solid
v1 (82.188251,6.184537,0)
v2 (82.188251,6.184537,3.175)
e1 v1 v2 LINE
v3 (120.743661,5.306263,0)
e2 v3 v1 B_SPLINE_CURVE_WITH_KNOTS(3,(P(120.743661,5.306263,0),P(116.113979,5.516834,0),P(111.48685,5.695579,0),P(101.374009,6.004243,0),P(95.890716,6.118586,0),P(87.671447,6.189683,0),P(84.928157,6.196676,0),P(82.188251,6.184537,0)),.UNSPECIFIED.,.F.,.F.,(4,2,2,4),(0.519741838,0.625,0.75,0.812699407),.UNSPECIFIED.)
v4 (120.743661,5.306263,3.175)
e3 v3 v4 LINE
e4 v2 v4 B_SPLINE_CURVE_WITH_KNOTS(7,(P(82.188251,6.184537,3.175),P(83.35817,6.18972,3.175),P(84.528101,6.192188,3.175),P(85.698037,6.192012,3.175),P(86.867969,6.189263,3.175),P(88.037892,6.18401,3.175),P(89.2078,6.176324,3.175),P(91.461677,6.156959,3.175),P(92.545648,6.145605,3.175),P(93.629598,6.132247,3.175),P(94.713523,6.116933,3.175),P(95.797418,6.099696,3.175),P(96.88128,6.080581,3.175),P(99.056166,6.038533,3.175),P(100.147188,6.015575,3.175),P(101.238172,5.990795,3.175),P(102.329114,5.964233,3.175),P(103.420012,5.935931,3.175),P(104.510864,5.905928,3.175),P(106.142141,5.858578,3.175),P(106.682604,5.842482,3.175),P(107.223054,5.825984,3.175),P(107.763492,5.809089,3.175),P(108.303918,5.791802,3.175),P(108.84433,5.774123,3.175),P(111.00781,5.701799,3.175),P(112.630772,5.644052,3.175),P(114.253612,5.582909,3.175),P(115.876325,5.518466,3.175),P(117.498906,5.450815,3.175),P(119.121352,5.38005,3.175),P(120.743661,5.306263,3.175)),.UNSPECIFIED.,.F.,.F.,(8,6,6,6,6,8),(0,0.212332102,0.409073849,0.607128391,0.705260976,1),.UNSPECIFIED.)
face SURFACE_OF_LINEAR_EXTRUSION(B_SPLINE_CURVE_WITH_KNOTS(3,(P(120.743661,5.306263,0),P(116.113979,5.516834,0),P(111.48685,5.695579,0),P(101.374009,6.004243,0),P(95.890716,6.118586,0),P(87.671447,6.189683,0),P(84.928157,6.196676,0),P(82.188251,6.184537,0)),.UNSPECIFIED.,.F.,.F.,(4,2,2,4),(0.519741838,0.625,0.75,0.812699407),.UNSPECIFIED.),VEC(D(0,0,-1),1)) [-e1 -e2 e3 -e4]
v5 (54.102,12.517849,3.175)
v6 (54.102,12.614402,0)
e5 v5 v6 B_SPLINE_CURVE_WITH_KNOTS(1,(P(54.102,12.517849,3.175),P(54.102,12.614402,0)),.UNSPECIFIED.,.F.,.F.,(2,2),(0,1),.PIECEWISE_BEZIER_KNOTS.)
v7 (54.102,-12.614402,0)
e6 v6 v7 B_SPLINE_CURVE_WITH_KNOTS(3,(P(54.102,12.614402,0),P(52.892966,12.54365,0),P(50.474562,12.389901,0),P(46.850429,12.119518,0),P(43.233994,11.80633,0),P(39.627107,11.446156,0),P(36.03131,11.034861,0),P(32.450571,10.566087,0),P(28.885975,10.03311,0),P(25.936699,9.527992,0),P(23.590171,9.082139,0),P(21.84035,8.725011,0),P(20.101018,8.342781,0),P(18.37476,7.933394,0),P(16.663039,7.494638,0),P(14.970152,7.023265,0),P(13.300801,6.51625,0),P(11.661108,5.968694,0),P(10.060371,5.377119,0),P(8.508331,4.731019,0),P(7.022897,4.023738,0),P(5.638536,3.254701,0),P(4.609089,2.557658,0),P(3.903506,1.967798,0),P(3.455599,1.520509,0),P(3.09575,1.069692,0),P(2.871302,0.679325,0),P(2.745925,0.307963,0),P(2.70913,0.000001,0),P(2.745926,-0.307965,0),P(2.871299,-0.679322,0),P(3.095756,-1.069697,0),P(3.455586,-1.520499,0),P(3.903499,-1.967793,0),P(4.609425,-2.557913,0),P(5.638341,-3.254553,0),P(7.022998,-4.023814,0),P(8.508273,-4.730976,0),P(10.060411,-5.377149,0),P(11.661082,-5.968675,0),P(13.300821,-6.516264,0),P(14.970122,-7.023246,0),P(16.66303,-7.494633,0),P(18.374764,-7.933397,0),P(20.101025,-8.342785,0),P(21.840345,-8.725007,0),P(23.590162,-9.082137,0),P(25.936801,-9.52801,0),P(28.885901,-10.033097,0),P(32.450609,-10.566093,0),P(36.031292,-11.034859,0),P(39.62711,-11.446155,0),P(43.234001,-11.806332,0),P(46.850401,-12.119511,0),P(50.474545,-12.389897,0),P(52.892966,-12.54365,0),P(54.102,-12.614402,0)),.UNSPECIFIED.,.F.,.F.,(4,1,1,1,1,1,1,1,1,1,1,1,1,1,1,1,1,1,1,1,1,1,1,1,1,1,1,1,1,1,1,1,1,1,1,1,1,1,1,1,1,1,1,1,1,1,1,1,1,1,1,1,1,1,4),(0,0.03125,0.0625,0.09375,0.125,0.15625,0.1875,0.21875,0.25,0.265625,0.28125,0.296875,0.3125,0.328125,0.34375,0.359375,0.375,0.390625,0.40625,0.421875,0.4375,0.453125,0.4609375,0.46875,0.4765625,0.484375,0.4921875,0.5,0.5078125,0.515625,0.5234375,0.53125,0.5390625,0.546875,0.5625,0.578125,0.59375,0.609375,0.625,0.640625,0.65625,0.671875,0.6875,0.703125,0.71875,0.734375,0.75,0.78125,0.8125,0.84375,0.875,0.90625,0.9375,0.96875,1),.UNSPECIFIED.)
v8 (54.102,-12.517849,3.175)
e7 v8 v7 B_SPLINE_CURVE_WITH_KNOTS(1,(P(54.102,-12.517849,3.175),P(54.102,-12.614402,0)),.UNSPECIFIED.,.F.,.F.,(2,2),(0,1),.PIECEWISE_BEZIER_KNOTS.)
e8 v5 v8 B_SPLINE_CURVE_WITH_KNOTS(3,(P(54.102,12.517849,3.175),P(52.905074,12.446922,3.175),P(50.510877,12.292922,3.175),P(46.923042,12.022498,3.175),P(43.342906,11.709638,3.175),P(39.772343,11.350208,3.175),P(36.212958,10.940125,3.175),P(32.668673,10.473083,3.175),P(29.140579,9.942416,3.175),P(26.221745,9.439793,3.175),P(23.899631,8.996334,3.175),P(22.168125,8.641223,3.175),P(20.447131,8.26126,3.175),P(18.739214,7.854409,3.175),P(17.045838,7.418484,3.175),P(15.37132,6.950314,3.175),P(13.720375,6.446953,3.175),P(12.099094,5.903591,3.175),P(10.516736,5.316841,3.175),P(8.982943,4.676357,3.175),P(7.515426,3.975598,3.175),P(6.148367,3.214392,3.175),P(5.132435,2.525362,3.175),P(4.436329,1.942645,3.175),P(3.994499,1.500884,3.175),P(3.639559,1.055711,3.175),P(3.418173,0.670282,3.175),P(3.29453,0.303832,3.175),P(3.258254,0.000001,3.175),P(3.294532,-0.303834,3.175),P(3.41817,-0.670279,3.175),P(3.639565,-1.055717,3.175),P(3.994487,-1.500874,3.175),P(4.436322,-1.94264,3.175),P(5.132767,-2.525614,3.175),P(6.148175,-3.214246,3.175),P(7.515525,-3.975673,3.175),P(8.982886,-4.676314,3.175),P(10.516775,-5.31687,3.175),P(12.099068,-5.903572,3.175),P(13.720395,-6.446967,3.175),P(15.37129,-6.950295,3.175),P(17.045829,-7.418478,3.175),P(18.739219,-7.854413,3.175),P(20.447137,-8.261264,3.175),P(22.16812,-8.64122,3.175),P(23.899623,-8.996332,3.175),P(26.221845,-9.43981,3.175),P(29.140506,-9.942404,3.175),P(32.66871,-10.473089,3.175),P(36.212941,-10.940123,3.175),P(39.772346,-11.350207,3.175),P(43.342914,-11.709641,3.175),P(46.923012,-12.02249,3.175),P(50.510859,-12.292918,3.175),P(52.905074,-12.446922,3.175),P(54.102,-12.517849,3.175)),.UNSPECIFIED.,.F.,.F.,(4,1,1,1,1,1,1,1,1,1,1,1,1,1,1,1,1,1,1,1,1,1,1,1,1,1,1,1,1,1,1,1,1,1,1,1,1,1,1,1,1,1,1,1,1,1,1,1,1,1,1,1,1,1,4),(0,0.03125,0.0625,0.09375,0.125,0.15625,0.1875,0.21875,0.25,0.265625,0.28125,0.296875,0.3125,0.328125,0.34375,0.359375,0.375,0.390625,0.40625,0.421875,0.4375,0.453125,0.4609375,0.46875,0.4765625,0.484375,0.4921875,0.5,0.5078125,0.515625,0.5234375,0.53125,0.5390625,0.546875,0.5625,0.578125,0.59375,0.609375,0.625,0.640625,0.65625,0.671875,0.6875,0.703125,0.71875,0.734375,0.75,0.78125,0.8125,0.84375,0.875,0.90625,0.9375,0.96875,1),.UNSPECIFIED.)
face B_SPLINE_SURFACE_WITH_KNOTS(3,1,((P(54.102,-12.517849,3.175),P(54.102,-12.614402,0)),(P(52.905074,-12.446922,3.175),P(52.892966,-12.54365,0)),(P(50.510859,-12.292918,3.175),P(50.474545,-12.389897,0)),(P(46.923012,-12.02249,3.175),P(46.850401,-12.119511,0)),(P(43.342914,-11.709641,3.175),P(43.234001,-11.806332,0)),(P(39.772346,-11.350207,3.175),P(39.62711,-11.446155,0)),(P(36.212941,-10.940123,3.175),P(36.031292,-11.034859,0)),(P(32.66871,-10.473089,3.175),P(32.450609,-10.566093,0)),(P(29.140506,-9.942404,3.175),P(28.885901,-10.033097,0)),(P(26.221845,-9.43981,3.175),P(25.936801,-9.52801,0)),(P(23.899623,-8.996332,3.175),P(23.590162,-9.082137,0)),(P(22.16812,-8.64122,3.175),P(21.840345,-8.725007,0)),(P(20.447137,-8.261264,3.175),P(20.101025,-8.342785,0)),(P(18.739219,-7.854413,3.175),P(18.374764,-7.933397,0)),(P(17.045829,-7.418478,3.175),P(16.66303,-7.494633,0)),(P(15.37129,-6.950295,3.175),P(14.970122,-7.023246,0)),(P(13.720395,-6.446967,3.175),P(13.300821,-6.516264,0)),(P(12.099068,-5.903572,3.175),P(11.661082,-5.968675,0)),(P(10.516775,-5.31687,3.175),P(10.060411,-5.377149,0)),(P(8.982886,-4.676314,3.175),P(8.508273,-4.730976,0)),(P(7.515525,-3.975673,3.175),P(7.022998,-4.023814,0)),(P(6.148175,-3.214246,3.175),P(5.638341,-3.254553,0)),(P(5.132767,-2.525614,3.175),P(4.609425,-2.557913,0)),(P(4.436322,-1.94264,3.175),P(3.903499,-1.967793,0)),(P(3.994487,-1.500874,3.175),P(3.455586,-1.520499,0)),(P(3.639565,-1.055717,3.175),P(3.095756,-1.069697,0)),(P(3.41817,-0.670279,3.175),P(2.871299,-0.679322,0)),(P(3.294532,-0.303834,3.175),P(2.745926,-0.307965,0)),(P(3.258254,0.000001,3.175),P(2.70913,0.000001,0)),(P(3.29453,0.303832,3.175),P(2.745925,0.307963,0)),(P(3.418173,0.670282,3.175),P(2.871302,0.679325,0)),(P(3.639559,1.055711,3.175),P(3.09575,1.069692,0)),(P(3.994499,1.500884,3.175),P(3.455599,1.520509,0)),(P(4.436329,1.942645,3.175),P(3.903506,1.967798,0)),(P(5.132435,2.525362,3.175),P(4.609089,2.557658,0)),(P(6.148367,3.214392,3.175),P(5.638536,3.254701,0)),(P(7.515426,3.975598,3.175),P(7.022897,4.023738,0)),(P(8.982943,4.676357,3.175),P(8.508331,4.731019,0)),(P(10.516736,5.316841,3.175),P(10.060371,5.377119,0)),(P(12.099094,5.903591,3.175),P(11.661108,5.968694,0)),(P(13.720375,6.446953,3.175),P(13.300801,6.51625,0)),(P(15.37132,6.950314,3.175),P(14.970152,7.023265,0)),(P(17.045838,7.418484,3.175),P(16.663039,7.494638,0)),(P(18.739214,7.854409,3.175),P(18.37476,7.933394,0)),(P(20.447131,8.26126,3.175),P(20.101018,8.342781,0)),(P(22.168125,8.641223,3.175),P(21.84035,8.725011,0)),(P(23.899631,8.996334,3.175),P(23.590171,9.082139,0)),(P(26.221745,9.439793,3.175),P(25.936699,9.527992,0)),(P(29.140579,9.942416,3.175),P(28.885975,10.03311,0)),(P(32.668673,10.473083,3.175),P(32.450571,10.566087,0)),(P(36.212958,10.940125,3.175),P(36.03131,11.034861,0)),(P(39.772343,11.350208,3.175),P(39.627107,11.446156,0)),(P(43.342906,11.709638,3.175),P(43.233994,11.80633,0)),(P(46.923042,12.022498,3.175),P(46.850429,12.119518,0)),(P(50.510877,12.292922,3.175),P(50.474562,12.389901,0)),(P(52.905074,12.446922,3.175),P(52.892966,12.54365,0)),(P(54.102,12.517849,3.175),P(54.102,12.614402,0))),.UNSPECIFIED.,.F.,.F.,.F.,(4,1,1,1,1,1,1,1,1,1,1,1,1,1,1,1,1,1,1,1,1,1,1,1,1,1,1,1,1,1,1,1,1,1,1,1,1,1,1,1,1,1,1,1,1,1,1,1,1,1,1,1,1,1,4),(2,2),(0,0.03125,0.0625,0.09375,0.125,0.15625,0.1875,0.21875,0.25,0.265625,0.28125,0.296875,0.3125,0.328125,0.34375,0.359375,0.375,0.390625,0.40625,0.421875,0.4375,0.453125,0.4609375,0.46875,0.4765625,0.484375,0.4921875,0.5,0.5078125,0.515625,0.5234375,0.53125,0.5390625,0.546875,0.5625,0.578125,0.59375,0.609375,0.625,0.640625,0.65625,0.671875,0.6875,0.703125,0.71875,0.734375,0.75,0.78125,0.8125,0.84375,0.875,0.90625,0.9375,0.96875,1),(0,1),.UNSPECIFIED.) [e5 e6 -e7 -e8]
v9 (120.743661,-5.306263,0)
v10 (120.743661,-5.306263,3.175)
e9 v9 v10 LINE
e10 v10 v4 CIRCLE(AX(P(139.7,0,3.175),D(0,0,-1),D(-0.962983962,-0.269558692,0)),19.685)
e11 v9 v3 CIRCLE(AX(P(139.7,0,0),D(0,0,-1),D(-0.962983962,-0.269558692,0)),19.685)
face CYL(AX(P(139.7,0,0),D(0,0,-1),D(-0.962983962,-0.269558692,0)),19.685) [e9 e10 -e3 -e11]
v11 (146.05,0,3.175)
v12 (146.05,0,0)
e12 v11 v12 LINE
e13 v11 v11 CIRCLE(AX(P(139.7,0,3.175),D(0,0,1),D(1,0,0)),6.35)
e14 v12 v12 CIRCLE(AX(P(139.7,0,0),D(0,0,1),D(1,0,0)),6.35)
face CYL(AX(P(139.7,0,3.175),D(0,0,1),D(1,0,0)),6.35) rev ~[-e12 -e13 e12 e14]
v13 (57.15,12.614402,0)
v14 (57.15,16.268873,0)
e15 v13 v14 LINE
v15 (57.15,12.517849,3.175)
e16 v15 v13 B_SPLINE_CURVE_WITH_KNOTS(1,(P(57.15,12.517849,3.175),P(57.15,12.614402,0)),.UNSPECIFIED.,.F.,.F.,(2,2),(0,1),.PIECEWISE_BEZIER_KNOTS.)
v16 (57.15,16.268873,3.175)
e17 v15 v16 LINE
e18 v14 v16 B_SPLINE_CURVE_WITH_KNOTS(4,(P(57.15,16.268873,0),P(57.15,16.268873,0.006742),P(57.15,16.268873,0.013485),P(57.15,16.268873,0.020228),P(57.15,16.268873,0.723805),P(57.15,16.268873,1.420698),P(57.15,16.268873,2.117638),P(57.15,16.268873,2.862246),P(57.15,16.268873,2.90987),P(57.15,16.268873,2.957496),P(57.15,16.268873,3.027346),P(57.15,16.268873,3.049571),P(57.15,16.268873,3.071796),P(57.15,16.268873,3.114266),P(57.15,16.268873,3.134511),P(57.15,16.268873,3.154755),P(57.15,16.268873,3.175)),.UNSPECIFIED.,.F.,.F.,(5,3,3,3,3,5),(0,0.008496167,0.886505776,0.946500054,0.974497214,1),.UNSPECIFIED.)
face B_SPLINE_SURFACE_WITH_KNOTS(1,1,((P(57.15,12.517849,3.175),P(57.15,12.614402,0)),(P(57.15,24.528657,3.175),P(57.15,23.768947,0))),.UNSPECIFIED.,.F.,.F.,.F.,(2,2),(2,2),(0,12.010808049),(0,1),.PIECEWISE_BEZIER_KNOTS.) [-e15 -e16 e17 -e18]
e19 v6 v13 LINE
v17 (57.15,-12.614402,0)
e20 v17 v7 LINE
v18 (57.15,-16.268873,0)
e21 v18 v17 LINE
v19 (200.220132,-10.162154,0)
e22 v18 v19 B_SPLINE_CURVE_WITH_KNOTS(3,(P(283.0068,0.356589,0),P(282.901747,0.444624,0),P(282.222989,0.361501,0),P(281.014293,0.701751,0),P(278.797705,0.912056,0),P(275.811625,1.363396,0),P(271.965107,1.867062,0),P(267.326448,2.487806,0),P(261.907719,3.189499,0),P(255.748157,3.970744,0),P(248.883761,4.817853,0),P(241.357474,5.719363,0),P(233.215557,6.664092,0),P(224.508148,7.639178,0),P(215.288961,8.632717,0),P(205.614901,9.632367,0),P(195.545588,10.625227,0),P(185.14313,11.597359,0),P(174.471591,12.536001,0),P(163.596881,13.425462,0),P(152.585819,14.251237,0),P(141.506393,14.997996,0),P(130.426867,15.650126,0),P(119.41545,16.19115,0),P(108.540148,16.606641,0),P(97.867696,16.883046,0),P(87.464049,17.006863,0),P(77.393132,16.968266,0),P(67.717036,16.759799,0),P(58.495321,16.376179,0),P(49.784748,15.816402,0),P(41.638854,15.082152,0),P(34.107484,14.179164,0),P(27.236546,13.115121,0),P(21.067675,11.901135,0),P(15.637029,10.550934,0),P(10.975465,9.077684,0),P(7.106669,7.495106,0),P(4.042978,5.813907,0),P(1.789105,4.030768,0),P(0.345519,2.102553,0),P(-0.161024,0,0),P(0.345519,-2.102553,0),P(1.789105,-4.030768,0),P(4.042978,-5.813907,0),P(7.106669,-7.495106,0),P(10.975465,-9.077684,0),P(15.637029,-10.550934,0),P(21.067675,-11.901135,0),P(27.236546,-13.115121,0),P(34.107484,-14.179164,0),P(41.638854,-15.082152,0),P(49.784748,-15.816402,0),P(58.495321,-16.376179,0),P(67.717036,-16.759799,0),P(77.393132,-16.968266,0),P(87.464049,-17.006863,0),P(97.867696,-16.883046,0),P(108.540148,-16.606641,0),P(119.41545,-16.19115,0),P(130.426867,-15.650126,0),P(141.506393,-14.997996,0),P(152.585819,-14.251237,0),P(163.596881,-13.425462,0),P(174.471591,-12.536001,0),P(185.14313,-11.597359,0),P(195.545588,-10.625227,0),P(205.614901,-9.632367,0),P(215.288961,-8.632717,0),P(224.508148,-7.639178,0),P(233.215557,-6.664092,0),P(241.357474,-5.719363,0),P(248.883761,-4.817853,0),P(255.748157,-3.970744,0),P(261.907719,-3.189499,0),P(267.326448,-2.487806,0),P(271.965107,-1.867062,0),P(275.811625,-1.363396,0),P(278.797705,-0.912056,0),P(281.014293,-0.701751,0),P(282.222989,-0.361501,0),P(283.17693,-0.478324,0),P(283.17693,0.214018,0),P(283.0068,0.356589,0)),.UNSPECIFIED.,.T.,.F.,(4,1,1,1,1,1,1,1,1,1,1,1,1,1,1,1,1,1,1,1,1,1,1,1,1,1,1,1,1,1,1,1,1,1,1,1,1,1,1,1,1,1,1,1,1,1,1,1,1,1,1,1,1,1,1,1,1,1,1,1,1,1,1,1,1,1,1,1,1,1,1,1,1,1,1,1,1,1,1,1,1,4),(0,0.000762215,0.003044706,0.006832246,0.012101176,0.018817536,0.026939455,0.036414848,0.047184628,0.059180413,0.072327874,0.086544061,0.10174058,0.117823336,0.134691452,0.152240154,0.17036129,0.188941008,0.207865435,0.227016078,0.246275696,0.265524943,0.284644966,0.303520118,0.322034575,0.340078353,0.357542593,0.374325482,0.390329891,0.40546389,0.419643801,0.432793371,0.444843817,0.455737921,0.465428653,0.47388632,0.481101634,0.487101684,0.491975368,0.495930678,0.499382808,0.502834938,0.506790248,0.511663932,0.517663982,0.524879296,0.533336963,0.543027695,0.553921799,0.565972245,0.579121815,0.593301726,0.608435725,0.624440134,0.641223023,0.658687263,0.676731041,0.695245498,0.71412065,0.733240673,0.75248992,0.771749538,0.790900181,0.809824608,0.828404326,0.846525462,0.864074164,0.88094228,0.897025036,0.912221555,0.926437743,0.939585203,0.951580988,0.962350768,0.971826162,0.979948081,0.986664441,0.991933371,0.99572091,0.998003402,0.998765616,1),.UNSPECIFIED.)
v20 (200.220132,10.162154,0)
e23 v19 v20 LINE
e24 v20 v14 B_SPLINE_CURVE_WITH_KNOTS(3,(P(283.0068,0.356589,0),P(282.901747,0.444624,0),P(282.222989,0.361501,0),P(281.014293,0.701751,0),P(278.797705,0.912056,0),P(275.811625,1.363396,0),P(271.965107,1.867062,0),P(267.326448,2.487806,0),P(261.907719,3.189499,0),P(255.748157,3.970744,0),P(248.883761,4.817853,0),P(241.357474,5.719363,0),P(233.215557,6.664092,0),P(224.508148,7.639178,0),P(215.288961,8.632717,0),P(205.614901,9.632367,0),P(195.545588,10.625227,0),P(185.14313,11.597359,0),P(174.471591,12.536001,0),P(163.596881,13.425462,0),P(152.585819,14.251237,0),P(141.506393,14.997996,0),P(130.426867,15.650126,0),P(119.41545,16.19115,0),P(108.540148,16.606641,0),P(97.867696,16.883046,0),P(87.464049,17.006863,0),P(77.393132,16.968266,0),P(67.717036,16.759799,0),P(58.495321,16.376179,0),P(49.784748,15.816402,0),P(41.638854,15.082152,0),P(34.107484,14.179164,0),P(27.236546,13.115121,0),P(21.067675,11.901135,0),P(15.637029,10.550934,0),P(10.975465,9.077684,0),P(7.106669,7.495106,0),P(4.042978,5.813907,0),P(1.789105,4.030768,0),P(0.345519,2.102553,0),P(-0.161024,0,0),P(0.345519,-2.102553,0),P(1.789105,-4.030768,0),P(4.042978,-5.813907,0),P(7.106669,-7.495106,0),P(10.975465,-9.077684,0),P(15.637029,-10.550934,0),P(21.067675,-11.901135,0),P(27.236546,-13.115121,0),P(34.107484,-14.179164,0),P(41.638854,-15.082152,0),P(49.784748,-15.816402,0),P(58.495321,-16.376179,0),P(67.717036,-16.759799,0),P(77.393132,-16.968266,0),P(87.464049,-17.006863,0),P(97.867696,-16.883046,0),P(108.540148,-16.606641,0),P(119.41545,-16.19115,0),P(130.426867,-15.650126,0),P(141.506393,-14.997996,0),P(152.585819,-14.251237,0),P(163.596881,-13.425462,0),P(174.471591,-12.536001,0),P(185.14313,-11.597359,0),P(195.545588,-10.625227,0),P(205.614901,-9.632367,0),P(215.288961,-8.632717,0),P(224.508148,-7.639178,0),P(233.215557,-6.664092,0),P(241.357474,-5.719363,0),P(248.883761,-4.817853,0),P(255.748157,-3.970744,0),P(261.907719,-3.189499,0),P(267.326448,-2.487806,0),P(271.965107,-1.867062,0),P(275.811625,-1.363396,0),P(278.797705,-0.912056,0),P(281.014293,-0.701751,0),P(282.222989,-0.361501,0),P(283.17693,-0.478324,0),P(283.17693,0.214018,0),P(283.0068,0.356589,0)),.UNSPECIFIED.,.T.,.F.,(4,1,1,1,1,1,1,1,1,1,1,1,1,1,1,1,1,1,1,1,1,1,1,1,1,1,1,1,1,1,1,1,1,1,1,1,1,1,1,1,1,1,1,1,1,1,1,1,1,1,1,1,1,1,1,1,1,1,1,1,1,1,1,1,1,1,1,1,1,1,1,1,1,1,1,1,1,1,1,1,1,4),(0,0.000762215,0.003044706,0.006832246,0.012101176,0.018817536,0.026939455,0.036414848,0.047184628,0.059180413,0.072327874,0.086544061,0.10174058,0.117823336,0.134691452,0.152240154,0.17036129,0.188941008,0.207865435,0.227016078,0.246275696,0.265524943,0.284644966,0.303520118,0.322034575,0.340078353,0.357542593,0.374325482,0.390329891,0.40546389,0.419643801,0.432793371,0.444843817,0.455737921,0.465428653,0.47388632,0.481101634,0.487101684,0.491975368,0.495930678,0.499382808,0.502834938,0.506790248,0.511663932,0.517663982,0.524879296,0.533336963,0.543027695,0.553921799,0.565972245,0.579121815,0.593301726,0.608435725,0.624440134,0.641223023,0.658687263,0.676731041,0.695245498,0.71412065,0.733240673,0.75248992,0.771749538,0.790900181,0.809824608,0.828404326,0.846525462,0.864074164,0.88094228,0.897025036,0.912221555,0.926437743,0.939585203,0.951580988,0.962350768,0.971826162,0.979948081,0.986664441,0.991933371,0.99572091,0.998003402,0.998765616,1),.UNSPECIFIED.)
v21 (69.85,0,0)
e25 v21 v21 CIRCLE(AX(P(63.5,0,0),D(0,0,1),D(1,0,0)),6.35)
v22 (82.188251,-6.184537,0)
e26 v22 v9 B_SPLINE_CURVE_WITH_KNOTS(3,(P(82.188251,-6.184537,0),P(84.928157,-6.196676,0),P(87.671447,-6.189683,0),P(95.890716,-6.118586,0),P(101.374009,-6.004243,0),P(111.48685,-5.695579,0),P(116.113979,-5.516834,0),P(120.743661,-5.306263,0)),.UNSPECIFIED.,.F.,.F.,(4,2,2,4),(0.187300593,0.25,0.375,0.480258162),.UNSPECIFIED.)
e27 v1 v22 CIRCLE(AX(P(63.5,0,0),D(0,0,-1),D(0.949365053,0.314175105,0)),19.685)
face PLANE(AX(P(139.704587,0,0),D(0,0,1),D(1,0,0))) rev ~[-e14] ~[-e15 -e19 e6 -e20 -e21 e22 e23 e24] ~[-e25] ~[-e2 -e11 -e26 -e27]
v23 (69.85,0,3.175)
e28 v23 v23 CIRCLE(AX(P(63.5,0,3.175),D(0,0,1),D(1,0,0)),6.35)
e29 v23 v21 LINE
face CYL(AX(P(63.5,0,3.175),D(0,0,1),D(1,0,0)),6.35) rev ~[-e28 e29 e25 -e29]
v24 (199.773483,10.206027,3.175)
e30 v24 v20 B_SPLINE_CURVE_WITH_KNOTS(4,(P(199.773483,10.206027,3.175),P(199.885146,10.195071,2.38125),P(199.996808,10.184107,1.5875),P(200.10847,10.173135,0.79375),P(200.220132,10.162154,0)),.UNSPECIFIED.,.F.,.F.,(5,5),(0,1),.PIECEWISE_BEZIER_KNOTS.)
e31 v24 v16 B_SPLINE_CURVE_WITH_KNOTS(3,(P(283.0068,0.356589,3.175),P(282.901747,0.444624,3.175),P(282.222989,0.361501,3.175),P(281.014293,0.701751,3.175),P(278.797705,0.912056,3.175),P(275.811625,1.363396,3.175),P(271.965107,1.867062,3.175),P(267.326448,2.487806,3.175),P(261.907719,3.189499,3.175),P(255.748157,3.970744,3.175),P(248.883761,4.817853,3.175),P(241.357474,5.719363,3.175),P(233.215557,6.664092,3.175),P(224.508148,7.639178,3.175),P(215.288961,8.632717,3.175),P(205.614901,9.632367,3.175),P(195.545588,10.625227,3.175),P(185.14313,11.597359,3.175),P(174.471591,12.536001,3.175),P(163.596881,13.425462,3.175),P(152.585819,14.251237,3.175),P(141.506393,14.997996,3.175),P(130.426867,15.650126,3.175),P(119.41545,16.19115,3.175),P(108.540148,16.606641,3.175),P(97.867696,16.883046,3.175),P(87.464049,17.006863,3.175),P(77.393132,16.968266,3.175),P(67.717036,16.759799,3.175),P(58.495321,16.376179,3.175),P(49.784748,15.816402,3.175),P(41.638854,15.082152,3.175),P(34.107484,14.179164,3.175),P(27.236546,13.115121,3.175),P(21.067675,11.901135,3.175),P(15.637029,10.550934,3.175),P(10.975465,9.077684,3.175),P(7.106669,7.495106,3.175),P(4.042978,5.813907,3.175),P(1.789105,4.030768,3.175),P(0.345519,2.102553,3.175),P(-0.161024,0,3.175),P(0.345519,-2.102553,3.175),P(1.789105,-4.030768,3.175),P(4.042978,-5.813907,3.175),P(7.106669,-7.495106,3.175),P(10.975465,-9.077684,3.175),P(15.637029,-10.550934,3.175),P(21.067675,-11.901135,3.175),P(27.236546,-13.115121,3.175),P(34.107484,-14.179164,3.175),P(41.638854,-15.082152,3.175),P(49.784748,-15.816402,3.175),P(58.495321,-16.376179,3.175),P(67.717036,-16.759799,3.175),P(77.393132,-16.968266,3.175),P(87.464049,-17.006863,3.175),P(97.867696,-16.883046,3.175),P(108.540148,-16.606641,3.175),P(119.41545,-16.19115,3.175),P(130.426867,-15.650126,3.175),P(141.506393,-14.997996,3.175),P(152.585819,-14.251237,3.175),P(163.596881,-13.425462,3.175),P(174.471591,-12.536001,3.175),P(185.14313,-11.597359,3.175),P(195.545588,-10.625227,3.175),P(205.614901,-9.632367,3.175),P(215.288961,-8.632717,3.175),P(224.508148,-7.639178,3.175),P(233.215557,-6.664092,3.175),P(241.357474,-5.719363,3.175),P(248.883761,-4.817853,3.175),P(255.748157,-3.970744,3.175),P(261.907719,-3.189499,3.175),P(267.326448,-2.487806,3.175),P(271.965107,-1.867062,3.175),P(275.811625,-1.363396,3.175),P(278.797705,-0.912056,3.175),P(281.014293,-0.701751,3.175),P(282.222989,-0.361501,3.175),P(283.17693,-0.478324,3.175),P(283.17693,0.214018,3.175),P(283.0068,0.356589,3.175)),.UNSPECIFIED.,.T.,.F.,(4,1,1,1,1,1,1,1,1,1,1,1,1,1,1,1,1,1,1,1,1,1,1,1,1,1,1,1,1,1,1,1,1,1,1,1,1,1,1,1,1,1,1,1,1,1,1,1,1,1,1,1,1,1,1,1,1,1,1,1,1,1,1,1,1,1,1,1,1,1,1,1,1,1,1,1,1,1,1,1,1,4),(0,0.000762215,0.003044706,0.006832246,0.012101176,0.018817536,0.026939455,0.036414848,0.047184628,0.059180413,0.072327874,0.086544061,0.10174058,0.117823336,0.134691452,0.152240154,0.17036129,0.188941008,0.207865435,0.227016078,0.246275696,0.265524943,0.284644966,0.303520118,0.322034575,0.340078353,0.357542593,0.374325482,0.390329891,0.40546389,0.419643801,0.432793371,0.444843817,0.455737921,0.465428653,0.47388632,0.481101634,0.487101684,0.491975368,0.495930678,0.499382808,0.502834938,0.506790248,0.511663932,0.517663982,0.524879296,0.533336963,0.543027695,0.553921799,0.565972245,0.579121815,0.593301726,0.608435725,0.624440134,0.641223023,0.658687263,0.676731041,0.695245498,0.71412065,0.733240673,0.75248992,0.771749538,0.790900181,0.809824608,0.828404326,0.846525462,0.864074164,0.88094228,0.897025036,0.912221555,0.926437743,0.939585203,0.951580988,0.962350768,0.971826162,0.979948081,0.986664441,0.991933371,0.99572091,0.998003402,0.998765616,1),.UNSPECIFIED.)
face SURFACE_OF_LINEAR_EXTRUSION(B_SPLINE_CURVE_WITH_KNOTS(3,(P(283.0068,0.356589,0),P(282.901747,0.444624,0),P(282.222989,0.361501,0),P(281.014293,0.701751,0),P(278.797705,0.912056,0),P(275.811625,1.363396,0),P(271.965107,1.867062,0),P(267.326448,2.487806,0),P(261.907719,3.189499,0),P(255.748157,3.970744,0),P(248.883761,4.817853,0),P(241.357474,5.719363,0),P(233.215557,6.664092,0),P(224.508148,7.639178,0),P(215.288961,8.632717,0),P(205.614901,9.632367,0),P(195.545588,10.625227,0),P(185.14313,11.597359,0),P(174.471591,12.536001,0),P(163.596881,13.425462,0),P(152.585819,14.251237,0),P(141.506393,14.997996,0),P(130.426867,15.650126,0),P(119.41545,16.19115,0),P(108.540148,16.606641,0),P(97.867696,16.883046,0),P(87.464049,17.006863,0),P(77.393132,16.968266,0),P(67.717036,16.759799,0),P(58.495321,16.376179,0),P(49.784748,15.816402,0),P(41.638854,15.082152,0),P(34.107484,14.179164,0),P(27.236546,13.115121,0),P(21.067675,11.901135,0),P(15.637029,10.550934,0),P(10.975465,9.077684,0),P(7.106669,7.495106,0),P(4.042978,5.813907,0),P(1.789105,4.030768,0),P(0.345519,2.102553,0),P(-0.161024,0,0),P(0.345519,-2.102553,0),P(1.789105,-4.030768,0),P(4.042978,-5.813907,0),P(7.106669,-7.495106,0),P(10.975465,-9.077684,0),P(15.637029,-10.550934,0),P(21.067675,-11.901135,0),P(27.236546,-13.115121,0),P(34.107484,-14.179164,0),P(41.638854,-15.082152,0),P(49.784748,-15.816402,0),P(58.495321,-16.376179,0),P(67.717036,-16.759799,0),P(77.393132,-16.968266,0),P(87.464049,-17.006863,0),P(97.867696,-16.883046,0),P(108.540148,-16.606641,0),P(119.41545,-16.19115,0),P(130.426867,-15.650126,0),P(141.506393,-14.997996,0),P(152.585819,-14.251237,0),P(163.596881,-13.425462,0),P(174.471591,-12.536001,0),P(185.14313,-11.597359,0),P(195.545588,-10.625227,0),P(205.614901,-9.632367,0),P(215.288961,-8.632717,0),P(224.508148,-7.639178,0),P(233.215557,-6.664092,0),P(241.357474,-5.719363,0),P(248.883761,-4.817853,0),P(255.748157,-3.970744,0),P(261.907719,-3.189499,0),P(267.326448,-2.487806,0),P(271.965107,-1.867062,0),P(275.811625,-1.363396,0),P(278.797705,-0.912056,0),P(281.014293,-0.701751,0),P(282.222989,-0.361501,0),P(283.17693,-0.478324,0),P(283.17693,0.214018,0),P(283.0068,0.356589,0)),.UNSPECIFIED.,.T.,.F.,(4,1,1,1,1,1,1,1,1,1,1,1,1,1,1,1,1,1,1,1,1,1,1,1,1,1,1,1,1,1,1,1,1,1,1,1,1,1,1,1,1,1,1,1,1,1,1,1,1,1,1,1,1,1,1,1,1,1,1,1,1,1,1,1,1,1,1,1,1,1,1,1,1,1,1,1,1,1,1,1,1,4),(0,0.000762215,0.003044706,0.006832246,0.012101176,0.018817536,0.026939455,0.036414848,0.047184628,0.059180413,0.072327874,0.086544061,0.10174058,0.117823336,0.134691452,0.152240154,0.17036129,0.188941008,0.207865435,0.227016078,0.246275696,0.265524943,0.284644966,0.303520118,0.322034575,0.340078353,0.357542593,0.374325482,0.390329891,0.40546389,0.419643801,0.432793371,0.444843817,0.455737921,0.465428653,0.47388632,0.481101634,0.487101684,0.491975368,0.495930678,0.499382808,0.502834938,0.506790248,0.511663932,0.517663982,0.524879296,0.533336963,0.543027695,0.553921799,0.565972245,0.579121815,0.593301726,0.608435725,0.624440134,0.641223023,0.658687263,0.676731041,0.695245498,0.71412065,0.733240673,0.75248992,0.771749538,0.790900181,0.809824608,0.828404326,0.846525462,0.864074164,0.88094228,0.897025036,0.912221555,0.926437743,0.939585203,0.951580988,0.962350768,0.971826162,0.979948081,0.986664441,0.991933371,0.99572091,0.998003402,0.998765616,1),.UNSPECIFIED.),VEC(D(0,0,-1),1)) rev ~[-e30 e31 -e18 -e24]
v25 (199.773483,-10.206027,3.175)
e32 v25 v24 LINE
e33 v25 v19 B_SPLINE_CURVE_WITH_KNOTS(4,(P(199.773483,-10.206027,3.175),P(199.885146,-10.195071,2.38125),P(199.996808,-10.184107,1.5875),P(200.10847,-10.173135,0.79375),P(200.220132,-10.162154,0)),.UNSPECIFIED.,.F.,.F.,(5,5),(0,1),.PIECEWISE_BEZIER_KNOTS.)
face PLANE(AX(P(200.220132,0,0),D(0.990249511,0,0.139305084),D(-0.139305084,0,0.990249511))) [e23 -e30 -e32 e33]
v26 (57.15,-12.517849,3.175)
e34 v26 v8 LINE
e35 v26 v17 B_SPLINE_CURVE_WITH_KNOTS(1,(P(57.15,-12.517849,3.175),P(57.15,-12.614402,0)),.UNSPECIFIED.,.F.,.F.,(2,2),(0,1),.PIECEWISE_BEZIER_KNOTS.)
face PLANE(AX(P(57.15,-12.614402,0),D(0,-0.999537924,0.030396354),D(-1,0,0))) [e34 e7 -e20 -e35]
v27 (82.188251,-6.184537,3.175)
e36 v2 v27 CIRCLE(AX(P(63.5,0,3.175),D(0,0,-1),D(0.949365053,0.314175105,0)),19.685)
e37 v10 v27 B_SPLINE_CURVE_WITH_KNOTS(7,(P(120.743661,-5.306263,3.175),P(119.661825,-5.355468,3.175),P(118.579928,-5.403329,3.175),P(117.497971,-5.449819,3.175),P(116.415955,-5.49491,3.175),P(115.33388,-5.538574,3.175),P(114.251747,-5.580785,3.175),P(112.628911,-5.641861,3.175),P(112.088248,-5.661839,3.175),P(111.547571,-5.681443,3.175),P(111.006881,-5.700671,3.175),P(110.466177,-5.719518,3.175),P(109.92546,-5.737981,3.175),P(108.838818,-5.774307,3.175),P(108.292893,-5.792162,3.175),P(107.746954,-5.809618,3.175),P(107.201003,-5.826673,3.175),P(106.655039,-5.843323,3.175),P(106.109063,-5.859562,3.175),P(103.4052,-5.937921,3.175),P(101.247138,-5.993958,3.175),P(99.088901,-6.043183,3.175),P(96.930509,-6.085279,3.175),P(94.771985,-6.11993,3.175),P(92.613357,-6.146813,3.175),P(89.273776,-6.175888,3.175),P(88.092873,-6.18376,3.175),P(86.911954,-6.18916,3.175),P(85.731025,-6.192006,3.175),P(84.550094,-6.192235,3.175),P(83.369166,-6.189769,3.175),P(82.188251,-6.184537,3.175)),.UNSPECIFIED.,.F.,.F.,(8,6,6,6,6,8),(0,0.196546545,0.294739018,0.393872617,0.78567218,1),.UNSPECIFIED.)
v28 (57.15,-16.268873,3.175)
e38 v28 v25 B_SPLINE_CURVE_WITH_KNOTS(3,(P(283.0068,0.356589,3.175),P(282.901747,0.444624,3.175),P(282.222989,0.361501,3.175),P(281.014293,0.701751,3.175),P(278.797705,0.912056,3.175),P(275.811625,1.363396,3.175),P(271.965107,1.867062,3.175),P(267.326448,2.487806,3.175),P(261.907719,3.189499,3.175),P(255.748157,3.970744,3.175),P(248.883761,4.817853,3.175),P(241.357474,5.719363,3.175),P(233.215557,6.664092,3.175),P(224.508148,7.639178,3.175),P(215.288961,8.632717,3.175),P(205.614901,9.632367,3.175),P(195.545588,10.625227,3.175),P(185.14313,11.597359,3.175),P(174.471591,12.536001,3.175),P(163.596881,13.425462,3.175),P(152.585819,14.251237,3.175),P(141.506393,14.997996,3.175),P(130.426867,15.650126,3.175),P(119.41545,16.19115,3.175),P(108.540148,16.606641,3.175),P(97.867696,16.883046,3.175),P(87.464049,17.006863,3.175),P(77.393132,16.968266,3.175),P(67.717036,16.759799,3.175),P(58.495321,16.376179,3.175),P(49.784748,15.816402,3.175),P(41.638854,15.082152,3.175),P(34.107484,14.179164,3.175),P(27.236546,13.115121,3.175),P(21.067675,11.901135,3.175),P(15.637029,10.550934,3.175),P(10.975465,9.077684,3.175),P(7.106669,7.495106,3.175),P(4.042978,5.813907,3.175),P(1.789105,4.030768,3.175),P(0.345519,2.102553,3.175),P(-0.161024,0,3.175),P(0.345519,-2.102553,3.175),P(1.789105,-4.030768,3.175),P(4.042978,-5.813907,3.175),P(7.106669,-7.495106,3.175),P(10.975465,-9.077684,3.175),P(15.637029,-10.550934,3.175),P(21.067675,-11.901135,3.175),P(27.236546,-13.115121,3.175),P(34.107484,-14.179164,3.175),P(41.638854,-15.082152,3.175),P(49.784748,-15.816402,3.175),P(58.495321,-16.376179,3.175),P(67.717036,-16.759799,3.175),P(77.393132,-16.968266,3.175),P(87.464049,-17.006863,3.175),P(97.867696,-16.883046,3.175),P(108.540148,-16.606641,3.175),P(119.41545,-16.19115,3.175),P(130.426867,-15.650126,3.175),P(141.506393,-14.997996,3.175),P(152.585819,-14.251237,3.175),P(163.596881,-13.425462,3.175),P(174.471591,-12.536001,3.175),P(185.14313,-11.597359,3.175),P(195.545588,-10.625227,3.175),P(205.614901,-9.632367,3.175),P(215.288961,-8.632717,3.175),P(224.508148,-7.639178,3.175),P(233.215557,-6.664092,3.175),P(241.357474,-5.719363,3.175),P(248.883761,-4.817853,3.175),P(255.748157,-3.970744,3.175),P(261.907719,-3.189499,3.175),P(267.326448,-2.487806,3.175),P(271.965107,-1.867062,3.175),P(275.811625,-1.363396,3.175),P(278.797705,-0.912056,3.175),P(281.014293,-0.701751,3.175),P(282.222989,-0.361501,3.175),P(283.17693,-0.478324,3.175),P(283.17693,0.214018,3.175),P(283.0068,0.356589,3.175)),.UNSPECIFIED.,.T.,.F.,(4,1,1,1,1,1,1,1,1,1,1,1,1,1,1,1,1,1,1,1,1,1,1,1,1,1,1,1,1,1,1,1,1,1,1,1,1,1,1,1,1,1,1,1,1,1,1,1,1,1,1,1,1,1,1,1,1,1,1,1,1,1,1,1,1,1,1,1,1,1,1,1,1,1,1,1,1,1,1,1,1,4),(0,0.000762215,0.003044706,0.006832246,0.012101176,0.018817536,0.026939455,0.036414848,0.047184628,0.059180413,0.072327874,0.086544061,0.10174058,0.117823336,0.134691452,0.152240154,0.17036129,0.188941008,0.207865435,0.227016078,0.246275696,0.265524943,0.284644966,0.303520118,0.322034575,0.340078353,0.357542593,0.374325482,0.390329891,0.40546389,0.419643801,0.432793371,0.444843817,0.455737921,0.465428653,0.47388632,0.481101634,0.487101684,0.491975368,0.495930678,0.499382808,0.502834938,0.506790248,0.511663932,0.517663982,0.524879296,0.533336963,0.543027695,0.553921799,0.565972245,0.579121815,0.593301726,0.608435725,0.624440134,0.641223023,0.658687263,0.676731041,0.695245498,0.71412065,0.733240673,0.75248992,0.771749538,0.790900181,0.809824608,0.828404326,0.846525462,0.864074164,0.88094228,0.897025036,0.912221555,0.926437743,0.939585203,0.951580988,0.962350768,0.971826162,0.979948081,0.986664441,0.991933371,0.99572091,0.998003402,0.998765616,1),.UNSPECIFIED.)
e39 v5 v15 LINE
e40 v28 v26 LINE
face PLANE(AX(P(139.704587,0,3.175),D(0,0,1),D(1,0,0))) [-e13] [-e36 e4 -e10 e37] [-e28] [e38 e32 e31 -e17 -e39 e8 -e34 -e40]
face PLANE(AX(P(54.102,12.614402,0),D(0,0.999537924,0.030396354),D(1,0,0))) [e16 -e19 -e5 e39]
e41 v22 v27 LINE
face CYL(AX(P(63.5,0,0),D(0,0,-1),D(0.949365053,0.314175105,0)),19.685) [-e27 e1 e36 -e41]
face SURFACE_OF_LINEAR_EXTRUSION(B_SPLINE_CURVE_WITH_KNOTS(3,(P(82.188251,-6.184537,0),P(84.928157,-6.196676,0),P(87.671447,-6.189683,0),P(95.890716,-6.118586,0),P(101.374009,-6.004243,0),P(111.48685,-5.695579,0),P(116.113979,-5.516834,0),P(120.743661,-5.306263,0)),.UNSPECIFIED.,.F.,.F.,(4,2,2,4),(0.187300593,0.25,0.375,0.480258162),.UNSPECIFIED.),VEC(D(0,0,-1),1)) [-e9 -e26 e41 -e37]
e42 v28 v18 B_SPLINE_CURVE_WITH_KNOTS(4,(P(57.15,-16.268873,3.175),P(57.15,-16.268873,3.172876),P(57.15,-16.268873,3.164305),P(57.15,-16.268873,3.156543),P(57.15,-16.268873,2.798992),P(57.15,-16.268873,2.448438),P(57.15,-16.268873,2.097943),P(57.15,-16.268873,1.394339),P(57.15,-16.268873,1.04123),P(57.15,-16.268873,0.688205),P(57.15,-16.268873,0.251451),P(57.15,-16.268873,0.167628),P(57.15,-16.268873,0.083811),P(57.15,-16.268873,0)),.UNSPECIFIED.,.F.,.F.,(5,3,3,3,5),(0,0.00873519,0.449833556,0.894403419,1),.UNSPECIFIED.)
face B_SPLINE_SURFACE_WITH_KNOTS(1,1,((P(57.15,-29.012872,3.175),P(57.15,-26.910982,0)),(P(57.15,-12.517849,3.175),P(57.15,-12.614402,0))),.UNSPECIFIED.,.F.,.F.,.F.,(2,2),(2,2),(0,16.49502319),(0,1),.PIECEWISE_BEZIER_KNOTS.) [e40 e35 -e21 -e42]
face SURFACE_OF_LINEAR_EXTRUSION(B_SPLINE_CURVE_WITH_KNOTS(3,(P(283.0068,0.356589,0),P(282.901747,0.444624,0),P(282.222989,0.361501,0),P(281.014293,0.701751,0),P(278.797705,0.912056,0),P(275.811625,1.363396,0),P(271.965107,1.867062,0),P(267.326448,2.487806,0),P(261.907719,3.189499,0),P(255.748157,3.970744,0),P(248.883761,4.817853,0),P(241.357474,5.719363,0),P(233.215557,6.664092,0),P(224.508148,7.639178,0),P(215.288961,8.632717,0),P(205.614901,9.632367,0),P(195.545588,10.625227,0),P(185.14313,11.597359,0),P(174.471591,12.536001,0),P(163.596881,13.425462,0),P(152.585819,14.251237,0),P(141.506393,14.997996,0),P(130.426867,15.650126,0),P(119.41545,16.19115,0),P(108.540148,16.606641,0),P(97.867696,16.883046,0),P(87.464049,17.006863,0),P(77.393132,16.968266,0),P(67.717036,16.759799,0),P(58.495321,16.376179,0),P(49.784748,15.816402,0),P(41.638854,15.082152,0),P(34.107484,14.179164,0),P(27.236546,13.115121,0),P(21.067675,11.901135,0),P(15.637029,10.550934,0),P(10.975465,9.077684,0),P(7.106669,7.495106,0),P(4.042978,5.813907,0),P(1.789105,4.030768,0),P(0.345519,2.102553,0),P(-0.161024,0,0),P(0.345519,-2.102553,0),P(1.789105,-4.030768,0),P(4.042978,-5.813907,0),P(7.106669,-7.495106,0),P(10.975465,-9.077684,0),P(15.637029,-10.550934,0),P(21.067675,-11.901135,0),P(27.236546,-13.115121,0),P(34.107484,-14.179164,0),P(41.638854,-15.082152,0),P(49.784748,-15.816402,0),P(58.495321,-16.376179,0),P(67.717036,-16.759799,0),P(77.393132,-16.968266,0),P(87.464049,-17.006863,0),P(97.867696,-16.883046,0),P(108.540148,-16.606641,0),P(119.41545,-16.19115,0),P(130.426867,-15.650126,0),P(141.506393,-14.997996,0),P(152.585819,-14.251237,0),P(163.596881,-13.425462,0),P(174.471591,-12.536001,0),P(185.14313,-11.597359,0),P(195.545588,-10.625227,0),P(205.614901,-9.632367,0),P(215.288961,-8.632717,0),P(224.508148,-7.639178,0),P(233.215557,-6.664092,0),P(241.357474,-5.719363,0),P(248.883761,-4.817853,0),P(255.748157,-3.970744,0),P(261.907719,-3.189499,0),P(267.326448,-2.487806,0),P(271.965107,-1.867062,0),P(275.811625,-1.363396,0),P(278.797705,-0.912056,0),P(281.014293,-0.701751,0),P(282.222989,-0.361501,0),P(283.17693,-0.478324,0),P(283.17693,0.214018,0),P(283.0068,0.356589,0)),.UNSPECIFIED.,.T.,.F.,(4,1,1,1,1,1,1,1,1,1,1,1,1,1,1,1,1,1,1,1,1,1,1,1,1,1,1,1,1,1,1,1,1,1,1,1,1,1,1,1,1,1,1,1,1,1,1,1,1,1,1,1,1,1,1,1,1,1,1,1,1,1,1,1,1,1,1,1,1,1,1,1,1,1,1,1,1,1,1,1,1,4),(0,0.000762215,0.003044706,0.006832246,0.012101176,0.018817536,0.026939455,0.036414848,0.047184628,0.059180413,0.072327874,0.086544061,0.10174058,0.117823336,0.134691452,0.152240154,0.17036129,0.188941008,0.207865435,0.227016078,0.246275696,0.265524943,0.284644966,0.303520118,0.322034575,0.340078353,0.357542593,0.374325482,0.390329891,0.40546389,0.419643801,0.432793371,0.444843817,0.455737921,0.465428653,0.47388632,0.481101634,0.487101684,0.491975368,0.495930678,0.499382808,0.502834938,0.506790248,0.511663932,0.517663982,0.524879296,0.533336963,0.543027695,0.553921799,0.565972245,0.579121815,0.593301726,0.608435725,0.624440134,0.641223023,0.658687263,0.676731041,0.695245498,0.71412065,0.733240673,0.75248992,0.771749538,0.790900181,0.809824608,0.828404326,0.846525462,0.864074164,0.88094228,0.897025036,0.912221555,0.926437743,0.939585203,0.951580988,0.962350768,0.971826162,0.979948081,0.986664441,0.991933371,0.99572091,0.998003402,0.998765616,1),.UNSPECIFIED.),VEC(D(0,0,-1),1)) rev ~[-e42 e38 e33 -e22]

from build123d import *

# Parameters (mm, degrees)
BOSS_EXTRUDE1_DEPTH     = 3.175
SKETCH2_R               = 6.35
CUT_EXTRUDE1_DEPTH      = 3.175
CUT_EXTRUDE2_DEPTH      = 17.98531302
CUT_EXTRUDE2_DEPTH_BACK = 17.98531302
CUT_EXTRUDE3_DEPTH      = 7.62


with BuildPart() as part:
    # Sketch1 → Boss-Extrude1 (new body)
    with BuildSketch(Plane.XY):
        with BuildLine():
            add(Edge.make_bspline(
                [(283.0068, 0.356588568), (282.901747419, 0.44462405), (282.222988768, 0.361501496), (281.014292834, 0.701750535), (278.797705315, 0.912055534), (275.811625252, 1.363395917), (271.96510687, 1.867061556), (267.326448481, 2.487806401), (261.907718596, 3.189499382), (255.748156548, 3.970743632), (248.883761402, 4.817852882), (241.357474346, 5.719362844), (233.215556988, 6.664092103), (224.508147533, 7.639178426), (215.288960535, 8.632716794), (205.614900546, 9.632367333), (195.545587828, 10.625227013), (185.143130495, 11.597359066), (174.471591387, 12.536001404), (163.596880752, 13.425461607), (152.585818931, 14.251236992), (141.506392817, 14.997996378), (130.426867175, 15.650125673), (119.415450083, 16.19114965), (108.540147703, 16.606641404), (97.867696152, 16.883046032), (87.464049003, 17.006862886), (77.393132365, 16.968265808), (67.717036062, 16.75979946), (58.495320886, 16.376179449), (49.784748261, 15.816402284), (41.638853683, 15.082152298), (34.107484228, 14.179164014), (27.236546007, 13.115120527), (21.067675242, 11.901134861), (15.637028536, 10.550933877), (10.975465177, 9.077683717), (7.106668967, 7.49510566), (4.042977604, 5.813906592), (1.789105378, 4.030768344), (0.345518556, 2.10255275), (-0.161023932, 0), (0.345518556, -2.10255275), (1.789105378, -4.030768344), (4.042977604, -5.813906592), (7.106668967, -7.49510566), (10.975465177, -9.077683717), (15.637028536, -10.550933877), (21.067675242, -11.901134861), (27.236546007, -13.115120527), (34.107484228, -14.179164014), (41.638853683, -15.082152298), (49.784748261, -15.816402284), (58.495320886, -16.376179449), (67.717036062, -16.75979946), (77.393132365, -16.968265808), (87.464049003, -17.006862886), (97.867696152, -16.883046032), (108.540147703, -16.606641404), (119.415450083, -16.19114965), (130.426867175, -15.650125673), (141.506392817, -14.997996378), (152.585818931, -14.251236992), (163.596880752, -13.425461607), (174.471591387, -12.536001404), (185.143130495, -11.597359066), (195.545587828, -10.625227013), (205.614900546, -9.632367333), (215.288960535, -8.632716794), (224.508147533, -7.639178426), (233.215556988, -6.664092103), (241.357474346, -5.719362844), (248.883761402, -4.817852882), (255.748156548, -3.970743632), (261.907718596, -3.189499382), (267.326448481, -2.487806401), (271.96510687, -1.867061556), (275.811625252, -1.363395917), (278.797705315, -0.912055534), (281.014292834, -0.701750535), (282.222988768, -0.361501496), (283.176929529, -0.478323569), (283.176929529, 0.214017725), (283.0068, 0.356588568)],
                knots=[0, 0, 0, 0, 0.000762215, 0.003044706, 0.006832246, 0.012101176, 0.018817536, 0.026939455, 0.036414848, 0.047184628, 0.059180413, 0.072327874, 0.086544061, 0.10174058, 0.117823336, 0.134691452, 0.152240154, 0.17036129, 0.188941008, 0.207865435, 0.227016078, 0.246275696, 0.265524943, 0.284644966, 0.303520118, 0.322034575, 0.340078353, 0.357542593, 0.374325482, 0.390329891, 0.40546389, 0.419643801, 0.432793371, 0.444843817, 0.455737921, 0.465428653, 0.47388632, 0.481101634, 0.487101684, 0.491975368, 0.495930678, 0.499382808, 0.502834938, 0.506790248, 0.511663932, 0.517663982, 0.524879296, 0.533336963, 0.543027695, 0.553921799, 0.565972245, 0.579121815, 0.593301726, 0.608435725, 0.624440134, 0.641223023, 0.658687263, 0.676731041, 0.695245498, 0.71412065, 0.733240673, 0.75248992, 0.771749538, 0.790900181, 0.809824608, 0.828404326, 0.846525462, 0.864074164, 0.88094228, 0.897025036, 0.912221555, 0.926437743, 0.939585203, 0.951580988, 0.962350768, 0.971826162, 0.979948081, 0.986664441, 0.991933371, 0.99572091, 0.998003402, 0.998765616, 1, 1, 1, 1], degree=3))
        make_face()
    extrude(amount=BOSS_EXTRUDE1_DEPTH)

    # Sketch2 → Cut-Extrude1 (cut)
    with BuildSketch(Plane.XY.offset(3.175)):
        with Locations((63.5, 0)):
            Circle(SKETCH2_R)
        with Locations((139.7, 0)):
            Circle(SKETCH2_R)
    extrude(amount=-CUT_EXTRUDE1_DEPTH, mode=Mode.SUBTRACT)

    # Sketch3 → Cut-Extrude2 (cut, two sides)
    with BuildSketch(Plane(origin=(0, 0, 0), x_dir=(1, 0, 0), z_dir=(0, 1, 0))) as cut_extrude2_sk:
        Polygon((280.502264678, 570.685147201), (200.220132014, 0), (199.773483328, -3.175), (283.134397147, -3.175), (283.134397147, 0), (283.134397147, 576.304397051), (-760.640477334, 1065.222635252), (-763.272609802, 1059.603385401), align=None)
    extrude(amount=CUT_EXTRUDE2_DEPTH, mode=Mode.SUBTRACT)
    extrude(cut_extrude2_sk.sketch, amount=-CUT_EXTRUDE2_DEPTH_BACK, mode=Mode.SUBTRACT)

    # Sketch5 → Cut-Loft1 section 0
    with BuildSketch(Plane.XY.offset(3.175)):
        with BuildLine():
            Line((57.15, -15.840717611), (57.15, -12.517848774))
            Line((57.15, -12.517848774), (54.102, -12.517848774))
            add(Edge.make_bspline(
                [(54.102, 12.517848774), (52.905073826, 12.446922239), (50.510877245, 12.29292233), (46.923042309, 12.02249839), (43.342906141, 11.709637993), (39.772343425, 11.350207554), (36.212958119, 10.940125109), (32.668672918, 10.473083309), (29.140579279, 9.942416236), (26.221744689, 9.439792705), (23.899631399, 8.996334016), (22.168124881, 8.641223297), (20.447130555, 8.261260302), (18.73921392, 7.85440932), (17.04583843, 7.418483842), (15.37131979, 6.950314461), (13.720374707, 6.446953018), (12.099093951, 5.903590986), (10.516736009, 5.316840777), (8.982942702, 4.676356823), (7.515425701, 3.975597981), (6.148367378, 3.214391725), (5.132435214, 2.525362189), (4.436328841, 1.942644965), (3.99449908, 1.50088383), (3.639558845, 1.055711416), (3.418173473, 0.67028204), (3.294529971, 0.303832168), (3.258254336, 8.98e-07), (3.294531501, -0.303834398), (3.41817022, -0.670279004), (3.63956519, -1.05571658), (3.994486701, -1.500874192), (4.436322379, -1.942640233), (5.13276687, -2.525613649), (6.148175252, -3.21424607), (7.515525046, -3.97567324), (8.982885795, -4.676313816), (10.516775422, -5.316870372), (12.099068229, -5.90357211), (13.720394844, -6.446967156), (15.371289631, -6.95029465), (17.045828606, -7.418477981), (18.739219111, -7.854412516), (20.44713727, -8.261264475), (22.168119663, -8.641219802), (23.899622625, -8.996332253), (26.221845214, -9.439810116), (29.140506404, -9.942404258), (32.668709943, -10.473088914), (36.212941173, -10.940123046), (39.772346311, -11.350206942), (43.342914131, -11.709640819), (46.923012021, -12.0224901), (50.510859023, -12.292917903), (52.905073826, -12.446922239), (54.102, -12.517848774)],
                knots=[0, 0, 0, 0, 0.03125, 0.0625, 0.09375, 0.125, 0.15625, 0.1875, 0.21875, 0.25, 0.265625, 0.28125, 0.296875, 0.3125, 0.328125, 0.34375, 0.359375, 0.375, 0.390625, 0.40625, 0.421875, 0.4375, 0.453125, 0.4609375, 0.46875, 0.4765625, 0.484375, 0.4921875, 0.5, 0.5078125, 0.515625, 0.5234375, 0.53125, 0.5390625, 0.546875, 0.5625, 0.578125, 0.59375, 0.609375, 0.625, 0.640625, 0.65625, 0.671875, 0.6875, 0.703125, 0.71875, 0.734375, 0.75, 0.78125, 0.8125, 0.84375, 0.875, 0.90625, 0.9375, 0.96875, 1, 1, 1, 1], degree=3))
            Line((54.102, 12.517848774), (57.15, 12.517848774))
            Line((57.15, 12.517848774), (57.15, 15.840717611))
            Line((57.15, 15.840717611), (57.15, 24.528656823))
            Line((57.15, 24.528656823), (-13.660315185, 32.196838039))
            Line((-13.660315185, 32.196838039), (4.751362513, -35.926369443))
            Line((4.751362513, -35.926369443), (57.15, -29.012871964))
            Line((57.15, -29.012871964), (57.15, -15.840717611))
        make_face()
    # Sketch4 → Cut-Loft1 section 1
    with BuildSketch(Plane(origin=(0, 0, 0), x_dir=(-1, 0, 0), z_dir=(0, 0, -1))):
        with BuildLine():
            Line((-57.15, -15.931097341), (-57.15, -12.614401813))
            Line((-57.15, -12.614401813), (-54.102, -12.614401813))
            add(Edge.make_bspline(
                [(-54.102, 12.614401813), (-52.892966304, 12.543650374), (-50.474562395, 12.389900929), (-46.850429349, 12.119518431), (-43.233994008, 11.80632974), (-39.627106768, 11.446155851), (-36.031309682, 11.034861155), (-32.450571185, 10.566087473), (-28.885974607, 10.033109549), (-25.936699002, 9.527992325), (-23.590171059, 9.082138578), (-21.840349809, 8.725010585), (-20.101018277, 8.342781179), (-18.374759552, 7.933393598), (-16.663038707, 7.494638099), (-14.970151675, 7.023265253), (-13.3008012, 6.516250081), (-11.661107617, 5.968693544), (-10.06037111, 5.377118947), (-8.508330893, 4.731019213), (-7.022897298, 4.023737888), (-5.63853584, 3.25470078), (-4.609088563, 2.55765795), (-3.903506054, 1.967798123), (-3.455598612, 1.52050909), (-3.095749955, 1.069692125), (-2.871302388, 0.679325256), (-2.745924545, 0.30796261), (-2.7091298, 9.1e-07), (-2.745926097, -0.307964873), (-2.871299087, -0.679322175), (-3.095756394, -1.069697364), (-3.455586055, -1.520499314), (-3.903499495, -1.967793321), (-4.609425021, -2.557913052), (-5.638340949, -3.254553026), (-7.022998045, -4.023814214), (-8.50827323, -4.730975626), (-10.060410962, -5.377148887), (-11.661081805, -5.968674575), (-13.300821123, -6.516264103), (-14.970122445, -7.02324602), (-16.6630295, -7.494632633), (-18.374764393, -7.933396571), (-20.10102481, -8.342785237), (-21.840344745, -8.725007186), (-23.590162295, -9.082136874), (-25.936800786, -9.528009858), (-28.88590077, -10.033097475), (-32.450608778, -10.56609314), (-36.031292313, -11.034859029), (-39.627110143, -11.446155342), (-43.234001329, -11.806332406), (-46.850400529, -12.119510514), (-50.474544843, -12.389896679), (-52.892966304, -12.543650374), (-54.102, -12.614401813)],
                knots=[0, 0, 0, 0, 0.03125, 0.0625, 0.09375, 0.125, 0.15625, 0.1875, 0.21875, 0.25, 0.265625, 0.28125, 0.296875, 0.3125, 0.328125, 0.34375, 0.359375, 0.375, 0.390625, 0.40625, 0.421875, 0.4375, 0.453125, 0.4609375, 0.46875, 0.4765625, 0.484375, 0.4921875, 0.5, 0.5078125, 0.515625, 0.5234375, 0.53125, 0.5390625, 0.546875, 0.5625, 0.578125, 0.59375, 0.609375, 0.625, 0.640625, 0.65625, 0.671875, 0.6875, 0.703125, 0.71875, 0.734375, 0.75, 0.78125, 0.8125, 0.84375, 0.875, 0.90625, 0.9375, 0.96875, 1, 1, 1, 1], degree=3))
            Line((-54.102, 12.614401813), (-57.15, 12.614401813))
            Line((-57.15, 12.614401813), (-57.15, 15.931097341))
            Line((-57.15, 15.931097341), (-57.15, 23.768946795))
            Line((-57.15, 23.768946795), (16.290986713, 29.461293478))
            Line((16.290986713, 29.461293478), (3.107394198, -36.097931887))
            Line((3.107394198, -36.097931887), (-57.15, -26.910981695))
            Line((-57.15, -26.910981695), (-57.15, -15.931097341))
        make_face()
    loft(mode=Mode.SUBTRACT)

    # Sketch6 → Cut-Extrude3 (cut)
    with BuildSketch(Plane(origin=(0, 0, 0), x_dir=(-1, 0, 0), z_dir=(0, 0, -1))):
        with BuildLine():
            ThreePointArc((-120.7436607, -5.30626284), (-120.015, 0), (-120.7436607, 5.30626284))
            add(Edge.make_bspline(
                [(-120.7436607, 5.30626284), (-116.113978677, 5.516834405), (-111.486849996, 5.695579464), (-101.374008891, 6.004242594), (-95.890716435, 6.118585943), (-87.671447186, 6.189682577), (-84.92815734, 6.19667575), (-82.188251061, 6.184536948)],
                knots=[0.519741838, 0.519741838, 0.519741838, 0.519741838, 0.625, 0.625, 0.75, 0.75, 0.812699407, 0.812699407, 0.812699407, 0.812699407], degree=3))
            ThreePointArc((-82.188251061, 6.184536948), (-83.185, 0), (-82.188251061, -6.184536948))
            add(Edge.make_bspline(
                [(-82.188251061, -6.184536948), (-84.92815734, -6.19667575), (-87.671447186, -6.189682577), (-95.890716436, -6.118585943), (-101.374008891, -6.004242594), (-111.486849996, -5.695579464), (-116.113978677, -5.516834405), (-120.7436607, -5.30626284)],
                knots=[0.187300593, 0.187300593, 0.187300593, 0.187300593, 0.25, 0.25, 0.375, 0.375, 0.480258162, 0.480258162, 0.480258162, 0.480258162], degree=3))
        make_face()
    extrude(amount=-CUT_EXTRUDE3_DEPTH, mode=Mode.SUBTRACT)


solid = part.part
